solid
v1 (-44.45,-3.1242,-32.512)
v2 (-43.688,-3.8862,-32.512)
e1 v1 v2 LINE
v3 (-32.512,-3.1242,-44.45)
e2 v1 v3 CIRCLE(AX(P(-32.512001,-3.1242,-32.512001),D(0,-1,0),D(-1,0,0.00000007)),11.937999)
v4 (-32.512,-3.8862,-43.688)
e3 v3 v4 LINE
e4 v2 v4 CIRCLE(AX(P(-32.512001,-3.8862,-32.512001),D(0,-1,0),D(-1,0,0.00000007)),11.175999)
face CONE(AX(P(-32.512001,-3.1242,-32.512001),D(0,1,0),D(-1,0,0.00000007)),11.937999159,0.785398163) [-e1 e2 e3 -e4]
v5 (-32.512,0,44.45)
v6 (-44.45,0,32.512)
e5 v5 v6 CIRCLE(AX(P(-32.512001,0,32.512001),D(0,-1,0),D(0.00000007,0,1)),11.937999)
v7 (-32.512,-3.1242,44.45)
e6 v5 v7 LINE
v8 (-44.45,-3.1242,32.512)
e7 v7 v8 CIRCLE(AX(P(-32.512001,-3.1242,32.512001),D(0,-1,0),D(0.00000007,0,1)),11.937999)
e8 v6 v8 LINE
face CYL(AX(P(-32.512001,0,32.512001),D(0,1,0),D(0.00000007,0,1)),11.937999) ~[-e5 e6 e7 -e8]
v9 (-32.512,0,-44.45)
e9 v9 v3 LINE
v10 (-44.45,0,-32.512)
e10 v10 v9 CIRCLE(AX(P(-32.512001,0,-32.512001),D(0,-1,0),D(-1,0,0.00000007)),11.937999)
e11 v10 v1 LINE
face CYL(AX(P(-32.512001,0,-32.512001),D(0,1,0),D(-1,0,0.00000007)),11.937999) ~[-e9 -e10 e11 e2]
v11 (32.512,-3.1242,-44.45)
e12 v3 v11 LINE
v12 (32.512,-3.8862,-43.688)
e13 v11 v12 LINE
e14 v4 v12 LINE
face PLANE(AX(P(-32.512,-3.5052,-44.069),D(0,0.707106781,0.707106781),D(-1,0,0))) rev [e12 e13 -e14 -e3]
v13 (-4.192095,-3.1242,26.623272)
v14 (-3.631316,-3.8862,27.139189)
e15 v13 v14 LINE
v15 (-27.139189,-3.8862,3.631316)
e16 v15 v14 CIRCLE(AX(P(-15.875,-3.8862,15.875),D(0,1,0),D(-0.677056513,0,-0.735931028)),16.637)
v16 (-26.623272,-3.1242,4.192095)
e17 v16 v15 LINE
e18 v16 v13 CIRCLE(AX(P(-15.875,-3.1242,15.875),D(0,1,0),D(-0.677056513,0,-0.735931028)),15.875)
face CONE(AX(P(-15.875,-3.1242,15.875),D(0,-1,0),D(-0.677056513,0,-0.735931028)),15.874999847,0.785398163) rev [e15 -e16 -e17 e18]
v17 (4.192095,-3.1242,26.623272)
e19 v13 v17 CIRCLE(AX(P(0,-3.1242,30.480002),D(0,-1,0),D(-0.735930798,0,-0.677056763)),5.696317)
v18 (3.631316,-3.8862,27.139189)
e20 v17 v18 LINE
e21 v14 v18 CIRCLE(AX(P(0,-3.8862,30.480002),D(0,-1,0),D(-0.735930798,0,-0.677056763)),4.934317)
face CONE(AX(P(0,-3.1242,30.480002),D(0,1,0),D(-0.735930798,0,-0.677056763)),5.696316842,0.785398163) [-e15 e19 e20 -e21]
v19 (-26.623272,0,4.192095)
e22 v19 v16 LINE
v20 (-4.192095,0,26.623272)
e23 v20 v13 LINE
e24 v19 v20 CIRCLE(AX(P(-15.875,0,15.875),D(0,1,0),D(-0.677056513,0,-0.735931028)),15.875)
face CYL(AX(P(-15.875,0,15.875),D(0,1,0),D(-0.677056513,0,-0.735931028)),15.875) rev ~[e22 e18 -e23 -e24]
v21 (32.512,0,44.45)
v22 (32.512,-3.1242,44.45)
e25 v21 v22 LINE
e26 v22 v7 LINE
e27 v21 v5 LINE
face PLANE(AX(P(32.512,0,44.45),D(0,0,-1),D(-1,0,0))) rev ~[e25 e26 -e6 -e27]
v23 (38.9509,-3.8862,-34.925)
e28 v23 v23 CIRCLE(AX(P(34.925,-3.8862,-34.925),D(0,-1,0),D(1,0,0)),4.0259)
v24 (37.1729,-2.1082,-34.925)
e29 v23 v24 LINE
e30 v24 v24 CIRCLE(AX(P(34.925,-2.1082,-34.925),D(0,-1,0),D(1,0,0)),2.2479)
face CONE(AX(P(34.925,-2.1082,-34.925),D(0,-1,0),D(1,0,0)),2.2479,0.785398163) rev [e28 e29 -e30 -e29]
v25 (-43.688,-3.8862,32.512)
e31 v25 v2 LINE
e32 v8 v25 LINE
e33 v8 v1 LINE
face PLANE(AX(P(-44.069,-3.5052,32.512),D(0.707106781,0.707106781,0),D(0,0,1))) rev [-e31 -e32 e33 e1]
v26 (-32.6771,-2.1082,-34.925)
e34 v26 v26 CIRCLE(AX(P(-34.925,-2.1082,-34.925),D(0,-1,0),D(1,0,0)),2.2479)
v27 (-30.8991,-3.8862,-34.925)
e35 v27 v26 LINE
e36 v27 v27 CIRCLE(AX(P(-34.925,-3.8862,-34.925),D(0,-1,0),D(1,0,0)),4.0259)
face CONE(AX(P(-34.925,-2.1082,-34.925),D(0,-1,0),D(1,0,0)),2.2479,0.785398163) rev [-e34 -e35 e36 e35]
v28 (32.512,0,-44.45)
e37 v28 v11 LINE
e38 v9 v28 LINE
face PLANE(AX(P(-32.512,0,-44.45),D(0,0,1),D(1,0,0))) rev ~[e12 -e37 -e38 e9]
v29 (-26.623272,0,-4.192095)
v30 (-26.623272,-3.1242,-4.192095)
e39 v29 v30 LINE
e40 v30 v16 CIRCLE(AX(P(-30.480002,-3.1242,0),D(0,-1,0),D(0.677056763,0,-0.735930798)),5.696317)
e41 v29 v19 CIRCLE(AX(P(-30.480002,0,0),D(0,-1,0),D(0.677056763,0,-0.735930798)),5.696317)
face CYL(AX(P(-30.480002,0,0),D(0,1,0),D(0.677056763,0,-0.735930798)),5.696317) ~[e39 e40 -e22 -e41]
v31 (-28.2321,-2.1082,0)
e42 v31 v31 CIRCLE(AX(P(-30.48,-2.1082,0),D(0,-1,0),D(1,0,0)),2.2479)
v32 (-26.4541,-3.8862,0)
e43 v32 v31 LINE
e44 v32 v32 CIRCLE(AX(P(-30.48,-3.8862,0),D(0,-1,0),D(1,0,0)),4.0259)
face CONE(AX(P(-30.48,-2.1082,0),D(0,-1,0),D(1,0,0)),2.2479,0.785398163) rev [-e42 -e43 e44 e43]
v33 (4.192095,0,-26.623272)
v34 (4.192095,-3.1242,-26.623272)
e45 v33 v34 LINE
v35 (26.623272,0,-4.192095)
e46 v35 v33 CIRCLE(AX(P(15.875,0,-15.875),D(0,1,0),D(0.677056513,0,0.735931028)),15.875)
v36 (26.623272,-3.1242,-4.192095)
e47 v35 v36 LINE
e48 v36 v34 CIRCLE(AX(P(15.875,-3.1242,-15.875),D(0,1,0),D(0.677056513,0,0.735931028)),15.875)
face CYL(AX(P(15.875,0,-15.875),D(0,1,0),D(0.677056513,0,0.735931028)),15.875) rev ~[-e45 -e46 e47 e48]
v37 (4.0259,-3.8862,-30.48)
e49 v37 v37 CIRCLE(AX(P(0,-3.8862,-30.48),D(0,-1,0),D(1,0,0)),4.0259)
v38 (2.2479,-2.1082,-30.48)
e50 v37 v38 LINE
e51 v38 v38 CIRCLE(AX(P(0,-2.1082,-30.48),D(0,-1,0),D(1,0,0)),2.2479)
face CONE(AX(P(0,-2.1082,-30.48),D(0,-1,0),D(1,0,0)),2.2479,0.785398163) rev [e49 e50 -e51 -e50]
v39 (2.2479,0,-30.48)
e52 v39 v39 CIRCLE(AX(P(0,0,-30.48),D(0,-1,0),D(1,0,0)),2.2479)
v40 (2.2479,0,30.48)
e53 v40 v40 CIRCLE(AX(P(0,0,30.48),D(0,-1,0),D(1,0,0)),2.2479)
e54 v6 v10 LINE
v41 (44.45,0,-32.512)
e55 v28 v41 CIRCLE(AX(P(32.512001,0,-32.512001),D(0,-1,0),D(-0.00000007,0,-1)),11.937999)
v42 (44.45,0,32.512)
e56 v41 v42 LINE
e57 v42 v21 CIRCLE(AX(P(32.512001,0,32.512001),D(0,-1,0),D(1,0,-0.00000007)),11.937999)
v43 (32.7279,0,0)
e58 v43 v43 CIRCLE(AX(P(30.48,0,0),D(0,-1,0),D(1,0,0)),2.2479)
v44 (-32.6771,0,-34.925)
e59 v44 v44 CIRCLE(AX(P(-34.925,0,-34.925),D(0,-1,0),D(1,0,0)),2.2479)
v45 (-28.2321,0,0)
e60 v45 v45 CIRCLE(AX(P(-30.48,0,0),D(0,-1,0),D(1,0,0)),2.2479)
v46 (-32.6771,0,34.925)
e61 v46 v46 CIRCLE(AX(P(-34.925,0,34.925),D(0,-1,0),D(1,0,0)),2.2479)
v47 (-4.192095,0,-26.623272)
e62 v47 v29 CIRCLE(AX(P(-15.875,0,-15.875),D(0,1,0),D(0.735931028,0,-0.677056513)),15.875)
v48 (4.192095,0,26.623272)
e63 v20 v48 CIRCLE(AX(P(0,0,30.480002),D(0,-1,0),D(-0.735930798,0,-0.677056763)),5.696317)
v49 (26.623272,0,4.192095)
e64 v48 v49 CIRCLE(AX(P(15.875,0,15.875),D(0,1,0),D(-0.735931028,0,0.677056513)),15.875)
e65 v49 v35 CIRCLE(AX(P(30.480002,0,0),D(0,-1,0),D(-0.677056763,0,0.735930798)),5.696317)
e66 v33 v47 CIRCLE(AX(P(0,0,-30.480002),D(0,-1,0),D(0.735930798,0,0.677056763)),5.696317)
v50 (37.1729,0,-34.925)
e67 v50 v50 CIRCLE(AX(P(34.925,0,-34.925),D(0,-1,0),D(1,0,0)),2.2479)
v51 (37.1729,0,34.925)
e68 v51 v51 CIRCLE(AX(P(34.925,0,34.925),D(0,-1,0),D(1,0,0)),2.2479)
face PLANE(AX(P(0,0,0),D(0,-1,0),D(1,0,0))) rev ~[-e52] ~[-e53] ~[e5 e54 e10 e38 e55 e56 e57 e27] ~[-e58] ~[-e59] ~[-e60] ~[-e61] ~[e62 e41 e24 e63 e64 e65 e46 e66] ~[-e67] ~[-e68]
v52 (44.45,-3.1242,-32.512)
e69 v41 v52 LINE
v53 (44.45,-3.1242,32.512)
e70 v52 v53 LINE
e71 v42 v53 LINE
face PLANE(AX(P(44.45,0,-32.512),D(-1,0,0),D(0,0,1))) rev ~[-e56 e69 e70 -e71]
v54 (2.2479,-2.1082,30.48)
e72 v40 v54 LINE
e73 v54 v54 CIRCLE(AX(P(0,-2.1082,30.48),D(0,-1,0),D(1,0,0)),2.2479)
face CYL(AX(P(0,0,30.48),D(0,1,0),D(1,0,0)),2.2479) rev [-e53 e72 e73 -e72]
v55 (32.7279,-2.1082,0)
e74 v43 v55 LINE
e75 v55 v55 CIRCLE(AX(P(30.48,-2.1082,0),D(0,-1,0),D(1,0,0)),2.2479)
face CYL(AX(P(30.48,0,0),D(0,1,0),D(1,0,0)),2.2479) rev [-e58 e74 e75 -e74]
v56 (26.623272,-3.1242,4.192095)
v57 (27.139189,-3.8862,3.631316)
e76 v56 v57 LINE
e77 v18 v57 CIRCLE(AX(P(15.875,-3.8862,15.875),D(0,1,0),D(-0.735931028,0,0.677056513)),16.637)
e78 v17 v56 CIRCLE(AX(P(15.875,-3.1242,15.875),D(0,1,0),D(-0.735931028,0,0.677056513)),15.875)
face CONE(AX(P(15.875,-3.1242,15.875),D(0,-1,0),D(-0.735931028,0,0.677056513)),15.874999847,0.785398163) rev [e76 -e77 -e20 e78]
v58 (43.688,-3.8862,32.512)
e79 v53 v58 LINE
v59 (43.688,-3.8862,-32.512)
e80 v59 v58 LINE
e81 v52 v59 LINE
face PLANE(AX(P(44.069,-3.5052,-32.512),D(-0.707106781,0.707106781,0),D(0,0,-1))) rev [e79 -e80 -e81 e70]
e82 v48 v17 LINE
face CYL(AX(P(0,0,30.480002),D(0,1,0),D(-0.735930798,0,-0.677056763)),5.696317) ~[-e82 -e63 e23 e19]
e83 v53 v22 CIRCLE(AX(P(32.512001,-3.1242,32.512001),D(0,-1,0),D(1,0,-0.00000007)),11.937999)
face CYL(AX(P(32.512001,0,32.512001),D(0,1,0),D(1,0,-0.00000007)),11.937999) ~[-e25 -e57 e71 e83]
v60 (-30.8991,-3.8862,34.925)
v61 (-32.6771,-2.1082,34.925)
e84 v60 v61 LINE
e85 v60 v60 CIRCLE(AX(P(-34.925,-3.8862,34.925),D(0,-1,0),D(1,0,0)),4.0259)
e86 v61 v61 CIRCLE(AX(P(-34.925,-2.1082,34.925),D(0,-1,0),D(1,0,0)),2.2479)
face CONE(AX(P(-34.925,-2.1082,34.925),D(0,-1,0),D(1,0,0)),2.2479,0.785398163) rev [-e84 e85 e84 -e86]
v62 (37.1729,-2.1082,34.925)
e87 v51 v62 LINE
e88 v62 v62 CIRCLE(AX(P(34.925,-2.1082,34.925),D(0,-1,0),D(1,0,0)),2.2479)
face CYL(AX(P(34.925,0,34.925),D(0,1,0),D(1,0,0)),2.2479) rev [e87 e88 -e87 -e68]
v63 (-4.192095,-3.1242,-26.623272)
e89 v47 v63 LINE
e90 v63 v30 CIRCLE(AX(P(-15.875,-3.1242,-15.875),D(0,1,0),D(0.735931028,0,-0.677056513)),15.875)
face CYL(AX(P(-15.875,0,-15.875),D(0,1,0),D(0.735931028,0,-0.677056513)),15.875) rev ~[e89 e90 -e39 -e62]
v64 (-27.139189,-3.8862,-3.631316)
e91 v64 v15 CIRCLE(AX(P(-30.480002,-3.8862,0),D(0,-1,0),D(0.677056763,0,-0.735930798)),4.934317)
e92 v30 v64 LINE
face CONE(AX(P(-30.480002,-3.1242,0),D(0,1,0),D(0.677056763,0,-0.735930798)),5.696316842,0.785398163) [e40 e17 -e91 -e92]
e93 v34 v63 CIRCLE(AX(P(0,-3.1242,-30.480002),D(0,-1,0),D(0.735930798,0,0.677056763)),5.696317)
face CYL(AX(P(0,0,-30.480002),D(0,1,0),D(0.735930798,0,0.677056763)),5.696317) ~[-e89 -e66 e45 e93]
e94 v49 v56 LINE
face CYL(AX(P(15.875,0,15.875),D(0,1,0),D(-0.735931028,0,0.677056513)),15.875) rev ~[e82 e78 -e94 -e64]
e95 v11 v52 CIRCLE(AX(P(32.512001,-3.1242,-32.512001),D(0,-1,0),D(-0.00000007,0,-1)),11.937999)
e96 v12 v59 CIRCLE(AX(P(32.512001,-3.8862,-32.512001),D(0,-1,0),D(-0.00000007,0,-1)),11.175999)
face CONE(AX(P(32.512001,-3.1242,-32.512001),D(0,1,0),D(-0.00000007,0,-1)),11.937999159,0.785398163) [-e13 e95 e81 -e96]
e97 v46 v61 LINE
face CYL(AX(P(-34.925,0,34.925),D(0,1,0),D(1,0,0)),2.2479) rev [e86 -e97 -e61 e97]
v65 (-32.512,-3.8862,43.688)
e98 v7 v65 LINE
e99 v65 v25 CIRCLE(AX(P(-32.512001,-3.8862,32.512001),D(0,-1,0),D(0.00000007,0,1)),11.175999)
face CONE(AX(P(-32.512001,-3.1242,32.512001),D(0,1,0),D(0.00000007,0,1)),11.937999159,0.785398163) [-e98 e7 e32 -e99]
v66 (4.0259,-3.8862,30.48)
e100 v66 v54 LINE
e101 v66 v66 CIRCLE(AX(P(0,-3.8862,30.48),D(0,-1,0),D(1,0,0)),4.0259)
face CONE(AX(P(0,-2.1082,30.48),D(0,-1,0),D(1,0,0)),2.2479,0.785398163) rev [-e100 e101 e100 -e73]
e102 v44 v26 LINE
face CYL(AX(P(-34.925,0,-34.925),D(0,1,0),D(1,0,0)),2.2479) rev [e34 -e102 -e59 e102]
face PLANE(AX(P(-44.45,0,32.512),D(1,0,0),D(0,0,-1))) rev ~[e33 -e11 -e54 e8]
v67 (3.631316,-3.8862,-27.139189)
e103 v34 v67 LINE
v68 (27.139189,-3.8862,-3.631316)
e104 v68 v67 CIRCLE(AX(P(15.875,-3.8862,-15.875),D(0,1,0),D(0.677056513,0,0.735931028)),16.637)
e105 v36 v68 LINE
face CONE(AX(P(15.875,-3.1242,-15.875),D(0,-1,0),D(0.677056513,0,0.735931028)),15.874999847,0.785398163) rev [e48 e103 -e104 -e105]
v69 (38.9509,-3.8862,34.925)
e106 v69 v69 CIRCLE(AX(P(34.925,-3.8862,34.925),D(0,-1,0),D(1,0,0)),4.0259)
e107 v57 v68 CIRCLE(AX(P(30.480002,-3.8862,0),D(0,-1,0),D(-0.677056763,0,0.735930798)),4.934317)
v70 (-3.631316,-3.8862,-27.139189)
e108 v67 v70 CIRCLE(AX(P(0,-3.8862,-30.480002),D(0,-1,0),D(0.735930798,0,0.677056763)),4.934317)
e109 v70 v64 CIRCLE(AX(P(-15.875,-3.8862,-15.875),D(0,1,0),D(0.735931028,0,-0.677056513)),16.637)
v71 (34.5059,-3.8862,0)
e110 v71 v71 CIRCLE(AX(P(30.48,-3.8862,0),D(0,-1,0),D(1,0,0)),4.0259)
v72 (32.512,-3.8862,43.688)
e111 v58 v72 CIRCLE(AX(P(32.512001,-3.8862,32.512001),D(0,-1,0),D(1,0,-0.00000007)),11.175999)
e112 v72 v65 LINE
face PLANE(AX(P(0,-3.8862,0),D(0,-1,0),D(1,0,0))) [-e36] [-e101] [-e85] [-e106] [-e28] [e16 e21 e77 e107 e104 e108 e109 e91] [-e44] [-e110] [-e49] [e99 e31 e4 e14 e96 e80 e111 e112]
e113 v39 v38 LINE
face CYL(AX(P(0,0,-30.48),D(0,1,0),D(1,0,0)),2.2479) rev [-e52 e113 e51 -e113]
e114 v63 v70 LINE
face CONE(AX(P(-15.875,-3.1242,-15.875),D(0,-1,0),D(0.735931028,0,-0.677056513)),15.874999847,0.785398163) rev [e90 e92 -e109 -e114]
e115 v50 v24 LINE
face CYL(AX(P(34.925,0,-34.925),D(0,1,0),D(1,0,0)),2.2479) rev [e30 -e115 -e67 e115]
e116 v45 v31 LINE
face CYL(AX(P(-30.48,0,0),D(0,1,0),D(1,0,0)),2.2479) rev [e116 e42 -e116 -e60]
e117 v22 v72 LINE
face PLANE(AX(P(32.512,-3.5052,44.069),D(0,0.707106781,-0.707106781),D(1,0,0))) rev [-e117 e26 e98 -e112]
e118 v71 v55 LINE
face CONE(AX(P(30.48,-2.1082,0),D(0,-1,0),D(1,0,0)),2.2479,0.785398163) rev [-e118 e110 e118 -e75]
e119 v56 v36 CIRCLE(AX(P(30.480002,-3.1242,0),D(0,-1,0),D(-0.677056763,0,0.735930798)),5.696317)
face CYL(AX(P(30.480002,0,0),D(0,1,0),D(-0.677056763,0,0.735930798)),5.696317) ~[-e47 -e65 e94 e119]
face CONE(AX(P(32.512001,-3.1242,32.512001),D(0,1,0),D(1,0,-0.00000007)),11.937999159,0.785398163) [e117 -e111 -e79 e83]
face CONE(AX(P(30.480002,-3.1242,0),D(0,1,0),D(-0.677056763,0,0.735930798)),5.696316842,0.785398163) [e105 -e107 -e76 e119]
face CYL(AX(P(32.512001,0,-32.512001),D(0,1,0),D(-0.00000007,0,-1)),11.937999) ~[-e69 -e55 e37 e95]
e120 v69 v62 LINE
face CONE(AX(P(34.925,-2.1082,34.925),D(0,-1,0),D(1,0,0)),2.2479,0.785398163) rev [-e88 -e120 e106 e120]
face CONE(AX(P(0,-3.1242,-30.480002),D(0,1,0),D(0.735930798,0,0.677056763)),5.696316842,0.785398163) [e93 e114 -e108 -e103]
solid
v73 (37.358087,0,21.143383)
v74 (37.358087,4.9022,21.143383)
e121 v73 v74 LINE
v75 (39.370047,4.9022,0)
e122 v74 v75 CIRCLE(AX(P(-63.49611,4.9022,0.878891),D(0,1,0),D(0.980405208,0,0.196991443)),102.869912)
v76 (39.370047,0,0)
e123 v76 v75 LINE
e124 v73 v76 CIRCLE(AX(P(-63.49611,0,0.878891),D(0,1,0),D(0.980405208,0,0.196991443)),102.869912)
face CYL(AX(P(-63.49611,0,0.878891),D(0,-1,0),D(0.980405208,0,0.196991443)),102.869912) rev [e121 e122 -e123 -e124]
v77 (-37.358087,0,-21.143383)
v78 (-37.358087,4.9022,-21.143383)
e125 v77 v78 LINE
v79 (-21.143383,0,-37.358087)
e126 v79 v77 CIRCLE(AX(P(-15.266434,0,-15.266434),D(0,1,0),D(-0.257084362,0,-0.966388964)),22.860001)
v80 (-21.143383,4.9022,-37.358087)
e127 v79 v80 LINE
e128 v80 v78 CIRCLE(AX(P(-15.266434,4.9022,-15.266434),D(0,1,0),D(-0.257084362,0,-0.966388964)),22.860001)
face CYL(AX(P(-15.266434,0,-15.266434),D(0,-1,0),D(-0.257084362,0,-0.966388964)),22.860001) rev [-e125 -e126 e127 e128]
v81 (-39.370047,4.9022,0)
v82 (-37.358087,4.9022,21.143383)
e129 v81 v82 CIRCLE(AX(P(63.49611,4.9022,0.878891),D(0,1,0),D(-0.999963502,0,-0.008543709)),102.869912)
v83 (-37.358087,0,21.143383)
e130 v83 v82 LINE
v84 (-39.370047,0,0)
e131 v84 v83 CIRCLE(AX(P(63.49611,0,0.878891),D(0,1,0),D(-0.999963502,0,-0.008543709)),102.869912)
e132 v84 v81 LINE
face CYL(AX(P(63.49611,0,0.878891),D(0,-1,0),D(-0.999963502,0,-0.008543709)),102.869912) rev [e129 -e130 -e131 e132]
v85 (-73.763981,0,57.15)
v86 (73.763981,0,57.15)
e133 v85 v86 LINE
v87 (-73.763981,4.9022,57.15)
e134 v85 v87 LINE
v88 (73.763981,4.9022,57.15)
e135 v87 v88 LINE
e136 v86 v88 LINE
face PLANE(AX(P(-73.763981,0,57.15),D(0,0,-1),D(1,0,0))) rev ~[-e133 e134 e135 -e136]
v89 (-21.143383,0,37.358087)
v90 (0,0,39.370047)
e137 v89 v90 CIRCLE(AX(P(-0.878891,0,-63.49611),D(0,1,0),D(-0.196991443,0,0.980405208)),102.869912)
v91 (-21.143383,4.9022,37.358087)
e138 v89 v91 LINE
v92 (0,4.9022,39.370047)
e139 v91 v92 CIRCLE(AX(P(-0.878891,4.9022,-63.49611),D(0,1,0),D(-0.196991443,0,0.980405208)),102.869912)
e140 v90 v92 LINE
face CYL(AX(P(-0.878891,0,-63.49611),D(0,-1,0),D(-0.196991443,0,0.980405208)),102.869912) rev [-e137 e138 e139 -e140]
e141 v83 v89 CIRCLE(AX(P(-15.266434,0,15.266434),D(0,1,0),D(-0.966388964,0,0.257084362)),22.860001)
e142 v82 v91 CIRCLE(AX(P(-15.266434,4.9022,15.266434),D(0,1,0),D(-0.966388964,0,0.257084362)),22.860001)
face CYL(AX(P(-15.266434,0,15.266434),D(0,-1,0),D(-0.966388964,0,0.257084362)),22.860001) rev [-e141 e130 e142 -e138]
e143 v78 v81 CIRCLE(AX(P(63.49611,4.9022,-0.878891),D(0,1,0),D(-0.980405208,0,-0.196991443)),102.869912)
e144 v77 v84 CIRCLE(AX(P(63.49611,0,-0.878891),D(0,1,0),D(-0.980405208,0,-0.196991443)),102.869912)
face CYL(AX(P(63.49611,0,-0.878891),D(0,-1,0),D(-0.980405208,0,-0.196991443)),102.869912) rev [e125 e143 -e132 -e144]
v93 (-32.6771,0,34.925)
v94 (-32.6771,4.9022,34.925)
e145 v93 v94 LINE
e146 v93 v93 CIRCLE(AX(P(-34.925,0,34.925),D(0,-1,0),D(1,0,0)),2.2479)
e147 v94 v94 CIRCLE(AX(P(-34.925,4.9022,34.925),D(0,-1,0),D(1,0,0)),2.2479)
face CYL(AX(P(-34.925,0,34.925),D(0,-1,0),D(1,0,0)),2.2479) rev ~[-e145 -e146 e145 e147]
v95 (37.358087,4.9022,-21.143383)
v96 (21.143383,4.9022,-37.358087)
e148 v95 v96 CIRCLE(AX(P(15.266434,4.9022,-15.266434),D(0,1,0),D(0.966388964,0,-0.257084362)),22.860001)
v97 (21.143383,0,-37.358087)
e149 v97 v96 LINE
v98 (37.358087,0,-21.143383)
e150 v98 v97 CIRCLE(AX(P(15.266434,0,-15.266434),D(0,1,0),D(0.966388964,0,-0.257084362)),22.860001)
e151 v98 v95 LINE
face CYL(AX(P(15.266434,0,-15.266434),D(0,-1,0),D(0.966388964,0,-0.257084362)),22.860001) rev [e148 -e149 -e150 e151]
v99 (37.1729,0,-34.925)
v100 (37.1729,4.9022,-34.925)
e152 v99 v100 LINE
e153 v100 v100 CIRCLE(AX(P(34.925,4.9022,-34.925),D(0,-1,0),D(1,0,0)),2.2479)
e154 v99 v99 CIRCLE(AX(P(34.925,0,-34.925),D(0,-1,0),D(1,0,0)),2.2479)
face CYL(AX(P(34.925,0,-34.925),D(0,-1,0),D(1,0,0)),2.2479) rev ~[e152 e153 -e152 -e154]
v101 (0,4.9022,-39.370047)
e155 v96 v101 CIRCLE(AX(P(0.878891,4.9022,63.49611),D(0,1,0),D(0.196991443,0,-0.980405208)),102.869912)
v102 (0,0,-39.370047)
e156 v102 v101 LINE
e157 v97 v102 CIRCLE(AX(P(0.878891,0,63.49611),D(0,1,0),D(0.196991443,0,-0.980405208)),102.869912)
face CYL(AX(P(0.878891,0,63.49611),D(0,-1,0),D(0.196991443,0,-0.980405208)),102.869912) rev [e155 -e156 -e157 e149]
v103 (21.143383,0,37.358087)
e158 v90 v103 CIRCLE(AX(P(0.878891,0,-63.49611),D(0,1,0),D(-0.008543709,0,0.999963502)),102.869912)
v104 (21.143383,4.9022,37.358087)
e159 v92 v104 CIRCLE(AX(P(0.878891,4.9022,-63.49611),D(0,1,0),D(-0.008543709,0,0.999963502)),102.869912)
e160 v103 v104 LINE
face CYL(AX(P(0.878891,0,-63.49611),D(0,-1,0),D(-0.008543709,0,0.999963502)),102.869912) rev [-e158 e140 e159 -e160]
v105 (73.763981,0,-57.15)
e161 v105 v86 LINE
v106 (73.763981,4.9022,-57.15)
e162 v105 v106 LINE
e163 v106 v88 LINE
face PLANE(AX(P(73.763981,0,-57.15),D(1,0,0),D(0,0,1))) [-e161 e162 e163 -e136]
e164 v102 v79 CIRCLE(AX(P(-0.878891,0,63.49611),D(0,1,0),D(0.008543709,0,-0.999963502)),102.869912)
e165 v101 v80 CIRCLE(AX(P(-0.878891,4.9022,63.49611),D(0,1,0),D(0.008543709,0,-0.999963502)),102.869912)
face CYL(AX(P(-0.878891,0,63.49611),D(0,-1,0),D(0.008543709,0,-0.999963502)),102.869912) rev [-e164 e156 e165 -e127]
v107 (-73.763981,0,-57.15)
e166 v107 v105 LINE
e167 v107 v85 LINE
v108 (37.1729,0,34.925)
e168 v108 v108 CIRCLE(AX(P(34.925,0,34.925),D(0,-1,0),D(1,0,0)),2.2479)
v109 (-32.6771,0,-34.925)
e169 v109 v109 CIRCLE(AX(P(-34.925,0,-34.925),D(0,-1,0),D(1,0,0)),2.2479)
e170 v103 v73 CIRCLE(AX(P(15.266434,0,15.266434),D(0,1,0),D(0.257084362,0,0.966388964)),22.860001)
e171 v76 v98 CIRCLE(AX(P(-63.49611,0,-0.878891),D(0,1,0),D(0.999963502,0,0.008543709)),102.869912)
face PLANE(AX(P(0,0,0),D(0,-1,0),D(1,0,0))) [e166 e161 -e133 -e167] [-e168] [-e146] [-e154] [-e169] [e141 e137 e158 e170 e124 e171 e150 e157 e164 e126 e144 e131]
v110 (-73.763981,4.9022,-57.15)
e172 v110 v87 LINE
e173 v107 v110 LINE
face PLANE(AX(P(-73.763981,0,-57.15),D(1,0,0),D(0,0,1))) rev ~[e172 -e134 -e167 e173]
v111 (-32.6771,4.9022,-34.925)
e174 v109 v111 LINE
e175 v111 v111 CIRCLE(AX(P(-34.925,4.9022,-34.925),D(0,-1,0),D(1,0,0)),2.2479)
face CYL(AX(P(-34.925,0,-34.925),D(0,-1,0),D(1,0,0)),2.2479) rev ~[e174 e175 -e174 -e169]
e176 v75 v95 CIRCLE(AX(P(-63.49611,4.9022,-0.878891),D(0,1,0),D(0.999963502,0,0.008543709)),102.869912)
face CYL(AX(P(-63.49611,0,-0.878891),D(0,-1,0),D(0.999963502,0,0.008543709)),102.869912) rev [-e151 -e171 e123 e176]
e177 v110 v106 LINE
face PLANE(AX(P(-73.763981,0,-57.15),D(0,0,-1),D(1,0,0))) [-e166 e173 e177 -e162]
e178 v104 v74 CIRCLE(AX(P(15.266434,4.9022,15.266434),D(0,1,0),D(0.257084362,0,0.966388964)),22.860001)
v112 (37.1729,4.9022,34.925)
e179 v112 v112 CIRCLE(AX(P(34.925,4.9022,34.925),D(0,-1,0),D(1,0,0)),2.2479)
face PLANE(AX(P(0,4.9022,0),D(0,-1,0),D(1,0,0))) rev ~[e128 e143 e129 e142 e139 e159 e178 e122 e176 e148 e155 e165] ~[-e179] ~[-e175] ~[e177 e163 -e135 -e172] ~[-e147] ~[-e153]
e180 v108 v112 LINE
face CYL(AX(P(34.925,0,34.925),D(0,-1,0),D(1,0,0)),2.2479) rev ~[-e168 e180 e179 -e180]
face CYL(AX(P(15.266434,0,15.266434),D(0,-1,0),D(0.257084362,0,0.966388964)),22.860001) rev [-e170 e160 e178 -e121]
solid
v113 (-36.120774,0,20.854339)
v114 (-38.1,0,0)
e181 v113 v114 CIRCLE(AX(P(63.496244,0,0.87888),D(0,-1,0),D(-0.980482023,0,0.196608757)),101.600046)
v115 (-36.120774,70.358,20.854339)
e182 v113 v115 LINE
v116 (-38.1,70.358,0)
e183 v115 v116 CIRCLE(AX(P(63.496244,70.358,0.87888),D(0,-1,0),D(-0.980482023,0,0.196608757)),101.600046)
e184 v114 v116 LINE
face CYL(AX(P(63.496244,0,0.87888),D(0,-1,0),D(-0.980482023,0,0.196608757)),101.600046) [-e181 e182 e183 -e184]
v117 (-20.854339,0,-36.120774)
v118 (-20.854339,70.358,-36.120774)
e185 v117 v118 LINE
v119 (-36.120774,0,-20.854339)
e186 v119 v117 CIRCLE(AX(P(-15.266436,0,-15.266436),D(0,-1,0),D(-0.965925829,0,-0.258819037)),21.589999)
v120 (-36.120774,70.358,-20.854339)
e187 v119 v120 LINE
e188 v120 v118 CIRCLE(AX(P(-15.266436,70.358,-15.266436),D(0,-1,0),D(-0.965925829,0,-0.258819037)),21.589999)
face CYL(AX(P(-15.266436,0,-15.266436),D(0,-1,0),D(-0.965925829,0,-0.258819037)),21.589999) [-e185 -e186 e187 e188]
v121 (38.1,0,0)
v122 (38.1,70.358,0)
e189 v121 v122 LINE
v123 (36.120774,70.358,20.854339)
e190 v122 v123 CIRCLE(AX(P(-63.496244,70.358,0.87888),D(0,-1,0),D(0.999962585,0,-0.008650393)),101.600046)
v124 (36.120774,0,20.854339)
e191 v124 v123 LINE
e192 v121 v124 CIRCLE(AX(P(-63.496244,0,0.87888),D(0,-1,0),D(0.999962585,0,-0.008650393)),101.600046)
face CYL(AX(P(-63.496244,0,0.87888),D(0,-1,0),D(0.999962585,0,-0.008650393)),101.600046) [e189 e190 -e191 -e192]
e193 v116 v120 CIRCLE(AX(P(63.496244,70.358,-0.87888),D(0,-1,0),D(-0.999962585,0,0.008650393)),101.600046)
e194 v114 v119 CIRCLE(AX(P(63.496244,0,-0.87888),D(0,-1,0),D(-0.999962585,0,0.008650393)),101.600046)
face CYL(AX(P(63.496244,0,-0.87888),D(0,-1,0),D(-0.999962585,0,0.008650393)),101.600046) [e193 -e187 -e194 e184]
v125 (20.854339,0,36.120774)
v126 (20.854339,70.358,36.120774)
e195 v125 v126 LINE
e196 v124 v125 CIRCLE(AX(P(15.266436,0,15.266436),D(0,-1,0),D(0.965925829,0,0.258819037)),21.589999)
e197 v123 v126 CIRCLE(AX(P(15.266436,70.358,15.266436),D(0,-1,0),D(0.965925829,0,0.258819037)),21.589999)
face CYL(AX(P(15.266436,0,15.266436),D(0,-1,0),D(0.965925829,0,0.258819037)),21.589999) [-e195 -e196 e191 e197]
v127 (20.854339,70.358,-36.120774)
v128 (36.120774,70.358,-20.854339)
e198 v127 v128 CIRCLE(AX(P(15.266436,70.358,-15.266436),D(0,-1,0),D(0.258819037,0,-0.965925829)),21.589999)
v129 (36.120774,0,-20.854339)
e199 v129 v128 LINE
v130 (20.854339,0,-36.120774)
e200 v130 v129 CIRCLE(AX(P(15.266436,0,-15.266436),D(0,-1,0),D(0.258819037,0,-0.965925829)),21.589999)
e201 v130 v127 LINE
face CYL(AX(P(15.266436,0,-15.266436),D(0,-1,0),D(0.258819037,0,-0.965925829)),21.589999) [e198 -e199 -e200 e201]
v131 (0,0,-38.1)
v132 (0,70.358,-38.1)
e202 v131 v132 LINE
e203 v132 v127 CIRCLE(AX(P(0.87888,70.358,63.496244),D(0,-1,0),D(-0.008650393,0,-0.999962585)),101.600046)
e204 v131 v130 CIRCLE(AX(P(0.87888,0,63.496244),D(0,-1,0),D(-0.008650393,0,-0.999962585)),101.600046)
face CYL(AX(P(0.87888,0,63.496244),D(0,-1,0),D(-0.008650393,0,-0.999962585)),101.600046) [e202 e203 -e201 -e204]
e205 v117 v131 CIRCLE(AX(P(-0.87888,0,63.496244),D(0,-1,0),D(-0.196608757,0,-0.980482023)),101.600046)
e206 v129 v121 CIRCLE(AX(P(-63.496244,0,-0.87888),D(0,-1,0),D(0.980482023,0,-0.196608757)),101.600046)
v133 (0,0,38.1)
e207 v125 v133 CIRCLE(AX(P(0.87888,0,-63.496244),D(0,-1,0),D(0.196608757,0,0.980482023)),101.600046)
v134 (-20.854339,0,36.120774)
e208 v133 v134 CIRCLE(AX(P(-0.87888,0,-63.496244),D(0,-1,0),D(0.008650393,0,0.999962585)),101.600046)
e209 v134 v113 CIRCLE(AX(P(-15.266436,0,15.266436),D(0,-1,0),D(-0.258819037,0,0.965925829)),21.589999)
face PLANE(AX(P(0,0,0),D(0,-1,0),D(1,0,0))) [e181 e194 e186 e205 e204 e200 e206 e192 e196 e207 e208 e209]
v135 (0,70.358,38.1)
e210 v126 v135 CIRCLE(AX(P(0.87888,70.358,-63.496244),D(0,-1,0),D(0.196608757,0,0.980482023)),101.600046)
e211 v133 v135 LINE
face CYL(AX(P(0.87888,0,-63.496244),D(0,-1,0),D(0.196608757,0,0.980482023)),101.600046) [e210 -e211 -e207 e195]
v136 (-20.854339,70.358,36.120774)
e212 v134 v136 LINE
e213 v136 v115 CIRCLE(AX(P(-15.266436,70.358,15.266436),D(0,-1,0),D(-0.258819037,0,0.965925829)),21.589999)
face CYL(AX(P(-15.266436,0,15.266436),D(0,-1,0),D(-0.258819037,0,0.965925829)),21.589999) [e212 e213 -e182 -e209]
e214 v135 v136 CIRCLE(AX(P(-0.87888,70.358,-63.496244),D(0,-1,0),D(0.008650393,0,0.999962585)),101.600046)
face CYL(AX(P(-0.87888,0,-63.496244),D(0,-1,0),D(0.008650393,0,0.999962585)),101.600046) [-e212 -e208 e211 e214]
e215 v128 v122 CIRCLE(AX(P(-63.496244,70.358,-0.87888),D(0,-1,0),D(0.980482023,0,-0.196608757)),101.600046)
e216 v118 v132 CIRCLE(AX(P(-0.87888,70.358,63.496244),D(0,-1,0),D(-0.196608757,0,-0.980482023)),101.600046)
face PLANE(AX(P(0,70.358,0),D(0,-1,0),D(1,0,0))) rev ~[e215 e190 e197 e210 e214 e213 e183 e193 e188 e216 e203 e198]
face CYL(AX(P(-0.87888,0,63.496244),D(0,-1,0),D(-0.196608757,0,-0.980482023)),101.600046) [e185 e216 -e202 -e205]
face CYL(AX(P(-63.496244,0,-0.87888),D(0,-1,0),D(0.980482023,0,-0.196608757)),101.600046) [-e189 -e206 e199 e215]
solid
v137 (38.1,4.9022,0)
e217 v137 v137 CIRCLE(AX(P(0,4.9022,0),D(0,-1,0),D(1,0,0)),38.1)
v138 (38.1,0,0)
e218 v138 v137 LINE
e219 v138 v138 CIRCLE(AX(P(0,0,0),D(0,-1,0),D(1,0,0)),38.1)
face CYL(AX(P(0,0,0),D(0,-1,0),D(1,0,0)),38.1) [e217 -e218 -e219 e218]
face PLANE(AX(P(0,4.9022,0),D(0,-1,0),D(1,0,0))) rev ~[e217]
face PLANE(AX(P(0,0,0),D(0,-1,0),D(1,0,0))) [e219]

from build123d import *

# Parameters (mm, degrees)
F0_W     = 147.527962
F0_H     = 114.3
F0_R     = 2.2479
F0_R_2   = 38.1
F1_DEPTH = 4.9022
F2_R     = 2.2479
F3_DEPTH = 3.8862
F4_SIZE  = 0.762
F5_SIZE  = 1.778
F7_DEPTH = 70.358


with BuildPart() as f1:
    # F0 (on Front) → F1 (new body)
    with BuildSketch(Plane.XZ):
        Rectangle(F0_W, F0_H)
        with Locations((-34.925, -34.925)):
            Circle(F0_R, mode=Mode.SUBTRACT)
        with BuildLine():
            ThreePointArc((-39.370047, 0), (-38.911196, 10.623755), (-37.358087, 21.143383))
            ThreePointArc((-37.358087, 21.143383), (-31.430896, 31.430896), (-21.143383, 37.358087))
            ThreePointArc((-21.143383, 37.358087), (-10.623755, 38.911196), (0, 39.370047))
            ThreePointArc((0, 39.370047), (10.623755, 38.911196), (21.143383, 37.358087))
            ThreePointArc((21.143383, 37.358087), (31.430896, 31.430896), (37.358087, 21.143383))
            ThreePointArc((37.358087, 21.143383), (38.911196, 10.623755), (39.370047, 0))
            ThreePointArc((39.370047, 0), (38.911196, -10.623755), (37.358087, -21.143383))
            ThreePointArc((37.358087, -21.143383), (31.430896, -31.430896), (21.143383, -37.358087))
            ThreePointArc((21.143383, -37.358087), (10.623755, -38.911196), (0, -39.370047))
            ThreePointArc((0, -39.370047), (-10.623755, -38.911196), (-21.143383, -37.358087))
            ThreePointArc((-21.143383, -37.358087), (-31.430896, -31.430896), (-37.358087, -21.143383))
            ThreePointArc((-37.358087, -21.143383), (-38.911196, -10.623755), (-39.370047, 0))
        make_face(mode=Mode.SUBTRACT)
        with Locations((34.925, -34.925)):
            Circle(F0_R, mode=Mode.SUBTRACT)
        with Locations((-34.925, 34.925)):
            Circle(F0_R, mode=Mode.SUBTRACT)
        with Locations((34.925, 34.925)):
            Circle(F0_R, mode=Mode.SUBTRACT)
        Circle(F0_R_2)
    extrude(amount=-F1_DEPTH)


with BuildPart() as f3:
    # F2 (on Front) → F3 (new body)
    with BuildSketch(Plane.XZ):
        with BuildLine():
            Line((-32.512, -44.45), (32.512, -44.45))
            ThreePointArc((32.512, -44.45), (40.953441, -40.953441), (44.45, -32.512))
            Line((44.45, -32.512), (44.45, 32.512))
            ThreePointArc((44.45, 32.512), (40.953441, 40.953441), (32.512, 44.45))
            Line((32.512, 44.45), (-32.512, 44.45))
            ThreePointArc((-32.512, 44.45), (-40.953441, 40.953441), (-44.45, 32.512))
            Line((-44.45, 32.512), (-44.45, -32.512))
            ThreePointArc((-44.45, -32.512), (-40.953441, -40.953441), (-32.512, -44.45))
        make_face()
        with Locations((-34.925, -34.925)):
            Circle(F2_R, mode=Mode.SUBTRACT)
        with Locations((0, -30.48)):
            Circle(F2_R, mode=Mode.SUBTRACT)
        with Locations((34.925, -34.925)):
            Circle(F2_R, mode=Mode.SUBTRACT)
        with BuildLine():
            ThreePointArc((-26.623272, 4.192095), (-27.10032, 27.10032), (-4.192095, 26.623272))
            ThreePointArc((-4.192095, 26.623272), (0, 24.783685), (4.192095, 26.623272))
            ThreePointArc((4.192095, 26.623272), (27.10032, 27.10032), (26.623272, 4.192095))
            ThreePointArc((26.623272, 4.192095), (24.783685, 0), (26.623272, -4.192095))
            ThreePointArc((26.623272, -4.192095), (27.10032, -27.10032), (4.192095, -26.623272))
            ThreePointArc((4.192095, -26.623272), (0, -24.783685), (-4.192095, -26.623272))
            ThreePointArc((-4.192095, -26.623272), (-27.10032, -27.10032), (-26.623272, -4.192095))
            ThreePointArc((-26.623272, -4.192095), (-24.783685, 0), (-26.623272, 4.192095))
        make_face(mode=Mode.SUBTRACT)
        with Locations((-30.48, 0)):
            Circle(F2_R, mode=Mode.SUBTRACT)
        with Locations((-34.925, 34.925)):
            Circle(F2_R, mode=Mode.SUBTRACT)
        with Locations((30.48, 0)):
            Circle(F2_R, mode=Mode.SUBTRACT)
        with Locations((0, 30.48)):
            Circle(F2_R, mode=Mode.SUBTRACT)
        with Locations((34.925, 34.925)):
            Circle(F2_R, mode=Mode.SUBTRACT)
    extrude(amount=F3_DEPTH)

    # F4
    f4_edges = [f3.edges().sort_by_distance(p)[0] for p in [
        (-27.10032, -3.8862, 27.10032),
        (44.45, -3.8862, 0),
    ]]
    chamfer(f4_edges, length=F4_SIZE)

    # F5
    f5_edges = [f3.edges().sort_by_distance(p)[0] for p in [
        (-2.2479, -3.8862, 30.48),
        (-37.1729, -3.8862, 34.925),
        (-32.7279, -3.8862, 0),
        (-37.1729, -3.8862, -34.925),
        (-2.2479, -3.8862, -30.48),
        (32.6771, -3.8862, -34.925),
        (28.2321, -3.8862, 0),
        (32.6771, -3.8862, 34.925),
    ]]
    chamfer(f5_edges, length=F5_SIZE)


with BuildPart() as f7:
    # F6 (on Front) → F7 (new body)
    with BuildSketch(Plane.XZ):
        with BuildLine():
            ThreePointArc((-20.854339, 36.120774), (-30.532871, 30.532871), (-36.120774, 20.854339))
            ThreePointArc((-36.120774, 20.854339), (-37.649295, 10.478316), (-38.1, 0))
            ThreePointArc((-38.1, 0), (-37.649295, -10.478316), (-36.120774, -20.854339))
            ThreePointArc((-36.120774, -20.854339), (-30.532871, -30.532871), (-20.854339, -36.120774))
            ThreePointArc((-20.854339, -36.120774), (-10.478316, -37.649295), (0, -38.1))
            ThreePointArc((0, -38.1), (10.478316, -37.649295), (20.854339, -36.120774))
            ThreePointArc((20.854339, -36.120774), (30.532871, -30.532871), (36.120774, -20.854339))
            ThreePointArc((36.120774, -20.854339), (37.649295, -10.478316), (38.1, 0))
            ThreePointArc((38.1, 0), (37.649295, 10.478316), (36.120774, 20.854339))
            ThreePointArc((36.120774, 20.854339), (30.532871, 30.532871), (20.854339, 36.120774))
            ThreePointArc((20.854339, 36.120774), (10.478316, 37.649295), (0, 38.1))
            ThreePointArc((0, 38.1), (-10.478316, 37.649295), (-20.854339, 36.120774))
        make_face()
    extrude(amount=-F7_DEPTH)


solid = Compound([f1.part, f3.part, f7.part])
